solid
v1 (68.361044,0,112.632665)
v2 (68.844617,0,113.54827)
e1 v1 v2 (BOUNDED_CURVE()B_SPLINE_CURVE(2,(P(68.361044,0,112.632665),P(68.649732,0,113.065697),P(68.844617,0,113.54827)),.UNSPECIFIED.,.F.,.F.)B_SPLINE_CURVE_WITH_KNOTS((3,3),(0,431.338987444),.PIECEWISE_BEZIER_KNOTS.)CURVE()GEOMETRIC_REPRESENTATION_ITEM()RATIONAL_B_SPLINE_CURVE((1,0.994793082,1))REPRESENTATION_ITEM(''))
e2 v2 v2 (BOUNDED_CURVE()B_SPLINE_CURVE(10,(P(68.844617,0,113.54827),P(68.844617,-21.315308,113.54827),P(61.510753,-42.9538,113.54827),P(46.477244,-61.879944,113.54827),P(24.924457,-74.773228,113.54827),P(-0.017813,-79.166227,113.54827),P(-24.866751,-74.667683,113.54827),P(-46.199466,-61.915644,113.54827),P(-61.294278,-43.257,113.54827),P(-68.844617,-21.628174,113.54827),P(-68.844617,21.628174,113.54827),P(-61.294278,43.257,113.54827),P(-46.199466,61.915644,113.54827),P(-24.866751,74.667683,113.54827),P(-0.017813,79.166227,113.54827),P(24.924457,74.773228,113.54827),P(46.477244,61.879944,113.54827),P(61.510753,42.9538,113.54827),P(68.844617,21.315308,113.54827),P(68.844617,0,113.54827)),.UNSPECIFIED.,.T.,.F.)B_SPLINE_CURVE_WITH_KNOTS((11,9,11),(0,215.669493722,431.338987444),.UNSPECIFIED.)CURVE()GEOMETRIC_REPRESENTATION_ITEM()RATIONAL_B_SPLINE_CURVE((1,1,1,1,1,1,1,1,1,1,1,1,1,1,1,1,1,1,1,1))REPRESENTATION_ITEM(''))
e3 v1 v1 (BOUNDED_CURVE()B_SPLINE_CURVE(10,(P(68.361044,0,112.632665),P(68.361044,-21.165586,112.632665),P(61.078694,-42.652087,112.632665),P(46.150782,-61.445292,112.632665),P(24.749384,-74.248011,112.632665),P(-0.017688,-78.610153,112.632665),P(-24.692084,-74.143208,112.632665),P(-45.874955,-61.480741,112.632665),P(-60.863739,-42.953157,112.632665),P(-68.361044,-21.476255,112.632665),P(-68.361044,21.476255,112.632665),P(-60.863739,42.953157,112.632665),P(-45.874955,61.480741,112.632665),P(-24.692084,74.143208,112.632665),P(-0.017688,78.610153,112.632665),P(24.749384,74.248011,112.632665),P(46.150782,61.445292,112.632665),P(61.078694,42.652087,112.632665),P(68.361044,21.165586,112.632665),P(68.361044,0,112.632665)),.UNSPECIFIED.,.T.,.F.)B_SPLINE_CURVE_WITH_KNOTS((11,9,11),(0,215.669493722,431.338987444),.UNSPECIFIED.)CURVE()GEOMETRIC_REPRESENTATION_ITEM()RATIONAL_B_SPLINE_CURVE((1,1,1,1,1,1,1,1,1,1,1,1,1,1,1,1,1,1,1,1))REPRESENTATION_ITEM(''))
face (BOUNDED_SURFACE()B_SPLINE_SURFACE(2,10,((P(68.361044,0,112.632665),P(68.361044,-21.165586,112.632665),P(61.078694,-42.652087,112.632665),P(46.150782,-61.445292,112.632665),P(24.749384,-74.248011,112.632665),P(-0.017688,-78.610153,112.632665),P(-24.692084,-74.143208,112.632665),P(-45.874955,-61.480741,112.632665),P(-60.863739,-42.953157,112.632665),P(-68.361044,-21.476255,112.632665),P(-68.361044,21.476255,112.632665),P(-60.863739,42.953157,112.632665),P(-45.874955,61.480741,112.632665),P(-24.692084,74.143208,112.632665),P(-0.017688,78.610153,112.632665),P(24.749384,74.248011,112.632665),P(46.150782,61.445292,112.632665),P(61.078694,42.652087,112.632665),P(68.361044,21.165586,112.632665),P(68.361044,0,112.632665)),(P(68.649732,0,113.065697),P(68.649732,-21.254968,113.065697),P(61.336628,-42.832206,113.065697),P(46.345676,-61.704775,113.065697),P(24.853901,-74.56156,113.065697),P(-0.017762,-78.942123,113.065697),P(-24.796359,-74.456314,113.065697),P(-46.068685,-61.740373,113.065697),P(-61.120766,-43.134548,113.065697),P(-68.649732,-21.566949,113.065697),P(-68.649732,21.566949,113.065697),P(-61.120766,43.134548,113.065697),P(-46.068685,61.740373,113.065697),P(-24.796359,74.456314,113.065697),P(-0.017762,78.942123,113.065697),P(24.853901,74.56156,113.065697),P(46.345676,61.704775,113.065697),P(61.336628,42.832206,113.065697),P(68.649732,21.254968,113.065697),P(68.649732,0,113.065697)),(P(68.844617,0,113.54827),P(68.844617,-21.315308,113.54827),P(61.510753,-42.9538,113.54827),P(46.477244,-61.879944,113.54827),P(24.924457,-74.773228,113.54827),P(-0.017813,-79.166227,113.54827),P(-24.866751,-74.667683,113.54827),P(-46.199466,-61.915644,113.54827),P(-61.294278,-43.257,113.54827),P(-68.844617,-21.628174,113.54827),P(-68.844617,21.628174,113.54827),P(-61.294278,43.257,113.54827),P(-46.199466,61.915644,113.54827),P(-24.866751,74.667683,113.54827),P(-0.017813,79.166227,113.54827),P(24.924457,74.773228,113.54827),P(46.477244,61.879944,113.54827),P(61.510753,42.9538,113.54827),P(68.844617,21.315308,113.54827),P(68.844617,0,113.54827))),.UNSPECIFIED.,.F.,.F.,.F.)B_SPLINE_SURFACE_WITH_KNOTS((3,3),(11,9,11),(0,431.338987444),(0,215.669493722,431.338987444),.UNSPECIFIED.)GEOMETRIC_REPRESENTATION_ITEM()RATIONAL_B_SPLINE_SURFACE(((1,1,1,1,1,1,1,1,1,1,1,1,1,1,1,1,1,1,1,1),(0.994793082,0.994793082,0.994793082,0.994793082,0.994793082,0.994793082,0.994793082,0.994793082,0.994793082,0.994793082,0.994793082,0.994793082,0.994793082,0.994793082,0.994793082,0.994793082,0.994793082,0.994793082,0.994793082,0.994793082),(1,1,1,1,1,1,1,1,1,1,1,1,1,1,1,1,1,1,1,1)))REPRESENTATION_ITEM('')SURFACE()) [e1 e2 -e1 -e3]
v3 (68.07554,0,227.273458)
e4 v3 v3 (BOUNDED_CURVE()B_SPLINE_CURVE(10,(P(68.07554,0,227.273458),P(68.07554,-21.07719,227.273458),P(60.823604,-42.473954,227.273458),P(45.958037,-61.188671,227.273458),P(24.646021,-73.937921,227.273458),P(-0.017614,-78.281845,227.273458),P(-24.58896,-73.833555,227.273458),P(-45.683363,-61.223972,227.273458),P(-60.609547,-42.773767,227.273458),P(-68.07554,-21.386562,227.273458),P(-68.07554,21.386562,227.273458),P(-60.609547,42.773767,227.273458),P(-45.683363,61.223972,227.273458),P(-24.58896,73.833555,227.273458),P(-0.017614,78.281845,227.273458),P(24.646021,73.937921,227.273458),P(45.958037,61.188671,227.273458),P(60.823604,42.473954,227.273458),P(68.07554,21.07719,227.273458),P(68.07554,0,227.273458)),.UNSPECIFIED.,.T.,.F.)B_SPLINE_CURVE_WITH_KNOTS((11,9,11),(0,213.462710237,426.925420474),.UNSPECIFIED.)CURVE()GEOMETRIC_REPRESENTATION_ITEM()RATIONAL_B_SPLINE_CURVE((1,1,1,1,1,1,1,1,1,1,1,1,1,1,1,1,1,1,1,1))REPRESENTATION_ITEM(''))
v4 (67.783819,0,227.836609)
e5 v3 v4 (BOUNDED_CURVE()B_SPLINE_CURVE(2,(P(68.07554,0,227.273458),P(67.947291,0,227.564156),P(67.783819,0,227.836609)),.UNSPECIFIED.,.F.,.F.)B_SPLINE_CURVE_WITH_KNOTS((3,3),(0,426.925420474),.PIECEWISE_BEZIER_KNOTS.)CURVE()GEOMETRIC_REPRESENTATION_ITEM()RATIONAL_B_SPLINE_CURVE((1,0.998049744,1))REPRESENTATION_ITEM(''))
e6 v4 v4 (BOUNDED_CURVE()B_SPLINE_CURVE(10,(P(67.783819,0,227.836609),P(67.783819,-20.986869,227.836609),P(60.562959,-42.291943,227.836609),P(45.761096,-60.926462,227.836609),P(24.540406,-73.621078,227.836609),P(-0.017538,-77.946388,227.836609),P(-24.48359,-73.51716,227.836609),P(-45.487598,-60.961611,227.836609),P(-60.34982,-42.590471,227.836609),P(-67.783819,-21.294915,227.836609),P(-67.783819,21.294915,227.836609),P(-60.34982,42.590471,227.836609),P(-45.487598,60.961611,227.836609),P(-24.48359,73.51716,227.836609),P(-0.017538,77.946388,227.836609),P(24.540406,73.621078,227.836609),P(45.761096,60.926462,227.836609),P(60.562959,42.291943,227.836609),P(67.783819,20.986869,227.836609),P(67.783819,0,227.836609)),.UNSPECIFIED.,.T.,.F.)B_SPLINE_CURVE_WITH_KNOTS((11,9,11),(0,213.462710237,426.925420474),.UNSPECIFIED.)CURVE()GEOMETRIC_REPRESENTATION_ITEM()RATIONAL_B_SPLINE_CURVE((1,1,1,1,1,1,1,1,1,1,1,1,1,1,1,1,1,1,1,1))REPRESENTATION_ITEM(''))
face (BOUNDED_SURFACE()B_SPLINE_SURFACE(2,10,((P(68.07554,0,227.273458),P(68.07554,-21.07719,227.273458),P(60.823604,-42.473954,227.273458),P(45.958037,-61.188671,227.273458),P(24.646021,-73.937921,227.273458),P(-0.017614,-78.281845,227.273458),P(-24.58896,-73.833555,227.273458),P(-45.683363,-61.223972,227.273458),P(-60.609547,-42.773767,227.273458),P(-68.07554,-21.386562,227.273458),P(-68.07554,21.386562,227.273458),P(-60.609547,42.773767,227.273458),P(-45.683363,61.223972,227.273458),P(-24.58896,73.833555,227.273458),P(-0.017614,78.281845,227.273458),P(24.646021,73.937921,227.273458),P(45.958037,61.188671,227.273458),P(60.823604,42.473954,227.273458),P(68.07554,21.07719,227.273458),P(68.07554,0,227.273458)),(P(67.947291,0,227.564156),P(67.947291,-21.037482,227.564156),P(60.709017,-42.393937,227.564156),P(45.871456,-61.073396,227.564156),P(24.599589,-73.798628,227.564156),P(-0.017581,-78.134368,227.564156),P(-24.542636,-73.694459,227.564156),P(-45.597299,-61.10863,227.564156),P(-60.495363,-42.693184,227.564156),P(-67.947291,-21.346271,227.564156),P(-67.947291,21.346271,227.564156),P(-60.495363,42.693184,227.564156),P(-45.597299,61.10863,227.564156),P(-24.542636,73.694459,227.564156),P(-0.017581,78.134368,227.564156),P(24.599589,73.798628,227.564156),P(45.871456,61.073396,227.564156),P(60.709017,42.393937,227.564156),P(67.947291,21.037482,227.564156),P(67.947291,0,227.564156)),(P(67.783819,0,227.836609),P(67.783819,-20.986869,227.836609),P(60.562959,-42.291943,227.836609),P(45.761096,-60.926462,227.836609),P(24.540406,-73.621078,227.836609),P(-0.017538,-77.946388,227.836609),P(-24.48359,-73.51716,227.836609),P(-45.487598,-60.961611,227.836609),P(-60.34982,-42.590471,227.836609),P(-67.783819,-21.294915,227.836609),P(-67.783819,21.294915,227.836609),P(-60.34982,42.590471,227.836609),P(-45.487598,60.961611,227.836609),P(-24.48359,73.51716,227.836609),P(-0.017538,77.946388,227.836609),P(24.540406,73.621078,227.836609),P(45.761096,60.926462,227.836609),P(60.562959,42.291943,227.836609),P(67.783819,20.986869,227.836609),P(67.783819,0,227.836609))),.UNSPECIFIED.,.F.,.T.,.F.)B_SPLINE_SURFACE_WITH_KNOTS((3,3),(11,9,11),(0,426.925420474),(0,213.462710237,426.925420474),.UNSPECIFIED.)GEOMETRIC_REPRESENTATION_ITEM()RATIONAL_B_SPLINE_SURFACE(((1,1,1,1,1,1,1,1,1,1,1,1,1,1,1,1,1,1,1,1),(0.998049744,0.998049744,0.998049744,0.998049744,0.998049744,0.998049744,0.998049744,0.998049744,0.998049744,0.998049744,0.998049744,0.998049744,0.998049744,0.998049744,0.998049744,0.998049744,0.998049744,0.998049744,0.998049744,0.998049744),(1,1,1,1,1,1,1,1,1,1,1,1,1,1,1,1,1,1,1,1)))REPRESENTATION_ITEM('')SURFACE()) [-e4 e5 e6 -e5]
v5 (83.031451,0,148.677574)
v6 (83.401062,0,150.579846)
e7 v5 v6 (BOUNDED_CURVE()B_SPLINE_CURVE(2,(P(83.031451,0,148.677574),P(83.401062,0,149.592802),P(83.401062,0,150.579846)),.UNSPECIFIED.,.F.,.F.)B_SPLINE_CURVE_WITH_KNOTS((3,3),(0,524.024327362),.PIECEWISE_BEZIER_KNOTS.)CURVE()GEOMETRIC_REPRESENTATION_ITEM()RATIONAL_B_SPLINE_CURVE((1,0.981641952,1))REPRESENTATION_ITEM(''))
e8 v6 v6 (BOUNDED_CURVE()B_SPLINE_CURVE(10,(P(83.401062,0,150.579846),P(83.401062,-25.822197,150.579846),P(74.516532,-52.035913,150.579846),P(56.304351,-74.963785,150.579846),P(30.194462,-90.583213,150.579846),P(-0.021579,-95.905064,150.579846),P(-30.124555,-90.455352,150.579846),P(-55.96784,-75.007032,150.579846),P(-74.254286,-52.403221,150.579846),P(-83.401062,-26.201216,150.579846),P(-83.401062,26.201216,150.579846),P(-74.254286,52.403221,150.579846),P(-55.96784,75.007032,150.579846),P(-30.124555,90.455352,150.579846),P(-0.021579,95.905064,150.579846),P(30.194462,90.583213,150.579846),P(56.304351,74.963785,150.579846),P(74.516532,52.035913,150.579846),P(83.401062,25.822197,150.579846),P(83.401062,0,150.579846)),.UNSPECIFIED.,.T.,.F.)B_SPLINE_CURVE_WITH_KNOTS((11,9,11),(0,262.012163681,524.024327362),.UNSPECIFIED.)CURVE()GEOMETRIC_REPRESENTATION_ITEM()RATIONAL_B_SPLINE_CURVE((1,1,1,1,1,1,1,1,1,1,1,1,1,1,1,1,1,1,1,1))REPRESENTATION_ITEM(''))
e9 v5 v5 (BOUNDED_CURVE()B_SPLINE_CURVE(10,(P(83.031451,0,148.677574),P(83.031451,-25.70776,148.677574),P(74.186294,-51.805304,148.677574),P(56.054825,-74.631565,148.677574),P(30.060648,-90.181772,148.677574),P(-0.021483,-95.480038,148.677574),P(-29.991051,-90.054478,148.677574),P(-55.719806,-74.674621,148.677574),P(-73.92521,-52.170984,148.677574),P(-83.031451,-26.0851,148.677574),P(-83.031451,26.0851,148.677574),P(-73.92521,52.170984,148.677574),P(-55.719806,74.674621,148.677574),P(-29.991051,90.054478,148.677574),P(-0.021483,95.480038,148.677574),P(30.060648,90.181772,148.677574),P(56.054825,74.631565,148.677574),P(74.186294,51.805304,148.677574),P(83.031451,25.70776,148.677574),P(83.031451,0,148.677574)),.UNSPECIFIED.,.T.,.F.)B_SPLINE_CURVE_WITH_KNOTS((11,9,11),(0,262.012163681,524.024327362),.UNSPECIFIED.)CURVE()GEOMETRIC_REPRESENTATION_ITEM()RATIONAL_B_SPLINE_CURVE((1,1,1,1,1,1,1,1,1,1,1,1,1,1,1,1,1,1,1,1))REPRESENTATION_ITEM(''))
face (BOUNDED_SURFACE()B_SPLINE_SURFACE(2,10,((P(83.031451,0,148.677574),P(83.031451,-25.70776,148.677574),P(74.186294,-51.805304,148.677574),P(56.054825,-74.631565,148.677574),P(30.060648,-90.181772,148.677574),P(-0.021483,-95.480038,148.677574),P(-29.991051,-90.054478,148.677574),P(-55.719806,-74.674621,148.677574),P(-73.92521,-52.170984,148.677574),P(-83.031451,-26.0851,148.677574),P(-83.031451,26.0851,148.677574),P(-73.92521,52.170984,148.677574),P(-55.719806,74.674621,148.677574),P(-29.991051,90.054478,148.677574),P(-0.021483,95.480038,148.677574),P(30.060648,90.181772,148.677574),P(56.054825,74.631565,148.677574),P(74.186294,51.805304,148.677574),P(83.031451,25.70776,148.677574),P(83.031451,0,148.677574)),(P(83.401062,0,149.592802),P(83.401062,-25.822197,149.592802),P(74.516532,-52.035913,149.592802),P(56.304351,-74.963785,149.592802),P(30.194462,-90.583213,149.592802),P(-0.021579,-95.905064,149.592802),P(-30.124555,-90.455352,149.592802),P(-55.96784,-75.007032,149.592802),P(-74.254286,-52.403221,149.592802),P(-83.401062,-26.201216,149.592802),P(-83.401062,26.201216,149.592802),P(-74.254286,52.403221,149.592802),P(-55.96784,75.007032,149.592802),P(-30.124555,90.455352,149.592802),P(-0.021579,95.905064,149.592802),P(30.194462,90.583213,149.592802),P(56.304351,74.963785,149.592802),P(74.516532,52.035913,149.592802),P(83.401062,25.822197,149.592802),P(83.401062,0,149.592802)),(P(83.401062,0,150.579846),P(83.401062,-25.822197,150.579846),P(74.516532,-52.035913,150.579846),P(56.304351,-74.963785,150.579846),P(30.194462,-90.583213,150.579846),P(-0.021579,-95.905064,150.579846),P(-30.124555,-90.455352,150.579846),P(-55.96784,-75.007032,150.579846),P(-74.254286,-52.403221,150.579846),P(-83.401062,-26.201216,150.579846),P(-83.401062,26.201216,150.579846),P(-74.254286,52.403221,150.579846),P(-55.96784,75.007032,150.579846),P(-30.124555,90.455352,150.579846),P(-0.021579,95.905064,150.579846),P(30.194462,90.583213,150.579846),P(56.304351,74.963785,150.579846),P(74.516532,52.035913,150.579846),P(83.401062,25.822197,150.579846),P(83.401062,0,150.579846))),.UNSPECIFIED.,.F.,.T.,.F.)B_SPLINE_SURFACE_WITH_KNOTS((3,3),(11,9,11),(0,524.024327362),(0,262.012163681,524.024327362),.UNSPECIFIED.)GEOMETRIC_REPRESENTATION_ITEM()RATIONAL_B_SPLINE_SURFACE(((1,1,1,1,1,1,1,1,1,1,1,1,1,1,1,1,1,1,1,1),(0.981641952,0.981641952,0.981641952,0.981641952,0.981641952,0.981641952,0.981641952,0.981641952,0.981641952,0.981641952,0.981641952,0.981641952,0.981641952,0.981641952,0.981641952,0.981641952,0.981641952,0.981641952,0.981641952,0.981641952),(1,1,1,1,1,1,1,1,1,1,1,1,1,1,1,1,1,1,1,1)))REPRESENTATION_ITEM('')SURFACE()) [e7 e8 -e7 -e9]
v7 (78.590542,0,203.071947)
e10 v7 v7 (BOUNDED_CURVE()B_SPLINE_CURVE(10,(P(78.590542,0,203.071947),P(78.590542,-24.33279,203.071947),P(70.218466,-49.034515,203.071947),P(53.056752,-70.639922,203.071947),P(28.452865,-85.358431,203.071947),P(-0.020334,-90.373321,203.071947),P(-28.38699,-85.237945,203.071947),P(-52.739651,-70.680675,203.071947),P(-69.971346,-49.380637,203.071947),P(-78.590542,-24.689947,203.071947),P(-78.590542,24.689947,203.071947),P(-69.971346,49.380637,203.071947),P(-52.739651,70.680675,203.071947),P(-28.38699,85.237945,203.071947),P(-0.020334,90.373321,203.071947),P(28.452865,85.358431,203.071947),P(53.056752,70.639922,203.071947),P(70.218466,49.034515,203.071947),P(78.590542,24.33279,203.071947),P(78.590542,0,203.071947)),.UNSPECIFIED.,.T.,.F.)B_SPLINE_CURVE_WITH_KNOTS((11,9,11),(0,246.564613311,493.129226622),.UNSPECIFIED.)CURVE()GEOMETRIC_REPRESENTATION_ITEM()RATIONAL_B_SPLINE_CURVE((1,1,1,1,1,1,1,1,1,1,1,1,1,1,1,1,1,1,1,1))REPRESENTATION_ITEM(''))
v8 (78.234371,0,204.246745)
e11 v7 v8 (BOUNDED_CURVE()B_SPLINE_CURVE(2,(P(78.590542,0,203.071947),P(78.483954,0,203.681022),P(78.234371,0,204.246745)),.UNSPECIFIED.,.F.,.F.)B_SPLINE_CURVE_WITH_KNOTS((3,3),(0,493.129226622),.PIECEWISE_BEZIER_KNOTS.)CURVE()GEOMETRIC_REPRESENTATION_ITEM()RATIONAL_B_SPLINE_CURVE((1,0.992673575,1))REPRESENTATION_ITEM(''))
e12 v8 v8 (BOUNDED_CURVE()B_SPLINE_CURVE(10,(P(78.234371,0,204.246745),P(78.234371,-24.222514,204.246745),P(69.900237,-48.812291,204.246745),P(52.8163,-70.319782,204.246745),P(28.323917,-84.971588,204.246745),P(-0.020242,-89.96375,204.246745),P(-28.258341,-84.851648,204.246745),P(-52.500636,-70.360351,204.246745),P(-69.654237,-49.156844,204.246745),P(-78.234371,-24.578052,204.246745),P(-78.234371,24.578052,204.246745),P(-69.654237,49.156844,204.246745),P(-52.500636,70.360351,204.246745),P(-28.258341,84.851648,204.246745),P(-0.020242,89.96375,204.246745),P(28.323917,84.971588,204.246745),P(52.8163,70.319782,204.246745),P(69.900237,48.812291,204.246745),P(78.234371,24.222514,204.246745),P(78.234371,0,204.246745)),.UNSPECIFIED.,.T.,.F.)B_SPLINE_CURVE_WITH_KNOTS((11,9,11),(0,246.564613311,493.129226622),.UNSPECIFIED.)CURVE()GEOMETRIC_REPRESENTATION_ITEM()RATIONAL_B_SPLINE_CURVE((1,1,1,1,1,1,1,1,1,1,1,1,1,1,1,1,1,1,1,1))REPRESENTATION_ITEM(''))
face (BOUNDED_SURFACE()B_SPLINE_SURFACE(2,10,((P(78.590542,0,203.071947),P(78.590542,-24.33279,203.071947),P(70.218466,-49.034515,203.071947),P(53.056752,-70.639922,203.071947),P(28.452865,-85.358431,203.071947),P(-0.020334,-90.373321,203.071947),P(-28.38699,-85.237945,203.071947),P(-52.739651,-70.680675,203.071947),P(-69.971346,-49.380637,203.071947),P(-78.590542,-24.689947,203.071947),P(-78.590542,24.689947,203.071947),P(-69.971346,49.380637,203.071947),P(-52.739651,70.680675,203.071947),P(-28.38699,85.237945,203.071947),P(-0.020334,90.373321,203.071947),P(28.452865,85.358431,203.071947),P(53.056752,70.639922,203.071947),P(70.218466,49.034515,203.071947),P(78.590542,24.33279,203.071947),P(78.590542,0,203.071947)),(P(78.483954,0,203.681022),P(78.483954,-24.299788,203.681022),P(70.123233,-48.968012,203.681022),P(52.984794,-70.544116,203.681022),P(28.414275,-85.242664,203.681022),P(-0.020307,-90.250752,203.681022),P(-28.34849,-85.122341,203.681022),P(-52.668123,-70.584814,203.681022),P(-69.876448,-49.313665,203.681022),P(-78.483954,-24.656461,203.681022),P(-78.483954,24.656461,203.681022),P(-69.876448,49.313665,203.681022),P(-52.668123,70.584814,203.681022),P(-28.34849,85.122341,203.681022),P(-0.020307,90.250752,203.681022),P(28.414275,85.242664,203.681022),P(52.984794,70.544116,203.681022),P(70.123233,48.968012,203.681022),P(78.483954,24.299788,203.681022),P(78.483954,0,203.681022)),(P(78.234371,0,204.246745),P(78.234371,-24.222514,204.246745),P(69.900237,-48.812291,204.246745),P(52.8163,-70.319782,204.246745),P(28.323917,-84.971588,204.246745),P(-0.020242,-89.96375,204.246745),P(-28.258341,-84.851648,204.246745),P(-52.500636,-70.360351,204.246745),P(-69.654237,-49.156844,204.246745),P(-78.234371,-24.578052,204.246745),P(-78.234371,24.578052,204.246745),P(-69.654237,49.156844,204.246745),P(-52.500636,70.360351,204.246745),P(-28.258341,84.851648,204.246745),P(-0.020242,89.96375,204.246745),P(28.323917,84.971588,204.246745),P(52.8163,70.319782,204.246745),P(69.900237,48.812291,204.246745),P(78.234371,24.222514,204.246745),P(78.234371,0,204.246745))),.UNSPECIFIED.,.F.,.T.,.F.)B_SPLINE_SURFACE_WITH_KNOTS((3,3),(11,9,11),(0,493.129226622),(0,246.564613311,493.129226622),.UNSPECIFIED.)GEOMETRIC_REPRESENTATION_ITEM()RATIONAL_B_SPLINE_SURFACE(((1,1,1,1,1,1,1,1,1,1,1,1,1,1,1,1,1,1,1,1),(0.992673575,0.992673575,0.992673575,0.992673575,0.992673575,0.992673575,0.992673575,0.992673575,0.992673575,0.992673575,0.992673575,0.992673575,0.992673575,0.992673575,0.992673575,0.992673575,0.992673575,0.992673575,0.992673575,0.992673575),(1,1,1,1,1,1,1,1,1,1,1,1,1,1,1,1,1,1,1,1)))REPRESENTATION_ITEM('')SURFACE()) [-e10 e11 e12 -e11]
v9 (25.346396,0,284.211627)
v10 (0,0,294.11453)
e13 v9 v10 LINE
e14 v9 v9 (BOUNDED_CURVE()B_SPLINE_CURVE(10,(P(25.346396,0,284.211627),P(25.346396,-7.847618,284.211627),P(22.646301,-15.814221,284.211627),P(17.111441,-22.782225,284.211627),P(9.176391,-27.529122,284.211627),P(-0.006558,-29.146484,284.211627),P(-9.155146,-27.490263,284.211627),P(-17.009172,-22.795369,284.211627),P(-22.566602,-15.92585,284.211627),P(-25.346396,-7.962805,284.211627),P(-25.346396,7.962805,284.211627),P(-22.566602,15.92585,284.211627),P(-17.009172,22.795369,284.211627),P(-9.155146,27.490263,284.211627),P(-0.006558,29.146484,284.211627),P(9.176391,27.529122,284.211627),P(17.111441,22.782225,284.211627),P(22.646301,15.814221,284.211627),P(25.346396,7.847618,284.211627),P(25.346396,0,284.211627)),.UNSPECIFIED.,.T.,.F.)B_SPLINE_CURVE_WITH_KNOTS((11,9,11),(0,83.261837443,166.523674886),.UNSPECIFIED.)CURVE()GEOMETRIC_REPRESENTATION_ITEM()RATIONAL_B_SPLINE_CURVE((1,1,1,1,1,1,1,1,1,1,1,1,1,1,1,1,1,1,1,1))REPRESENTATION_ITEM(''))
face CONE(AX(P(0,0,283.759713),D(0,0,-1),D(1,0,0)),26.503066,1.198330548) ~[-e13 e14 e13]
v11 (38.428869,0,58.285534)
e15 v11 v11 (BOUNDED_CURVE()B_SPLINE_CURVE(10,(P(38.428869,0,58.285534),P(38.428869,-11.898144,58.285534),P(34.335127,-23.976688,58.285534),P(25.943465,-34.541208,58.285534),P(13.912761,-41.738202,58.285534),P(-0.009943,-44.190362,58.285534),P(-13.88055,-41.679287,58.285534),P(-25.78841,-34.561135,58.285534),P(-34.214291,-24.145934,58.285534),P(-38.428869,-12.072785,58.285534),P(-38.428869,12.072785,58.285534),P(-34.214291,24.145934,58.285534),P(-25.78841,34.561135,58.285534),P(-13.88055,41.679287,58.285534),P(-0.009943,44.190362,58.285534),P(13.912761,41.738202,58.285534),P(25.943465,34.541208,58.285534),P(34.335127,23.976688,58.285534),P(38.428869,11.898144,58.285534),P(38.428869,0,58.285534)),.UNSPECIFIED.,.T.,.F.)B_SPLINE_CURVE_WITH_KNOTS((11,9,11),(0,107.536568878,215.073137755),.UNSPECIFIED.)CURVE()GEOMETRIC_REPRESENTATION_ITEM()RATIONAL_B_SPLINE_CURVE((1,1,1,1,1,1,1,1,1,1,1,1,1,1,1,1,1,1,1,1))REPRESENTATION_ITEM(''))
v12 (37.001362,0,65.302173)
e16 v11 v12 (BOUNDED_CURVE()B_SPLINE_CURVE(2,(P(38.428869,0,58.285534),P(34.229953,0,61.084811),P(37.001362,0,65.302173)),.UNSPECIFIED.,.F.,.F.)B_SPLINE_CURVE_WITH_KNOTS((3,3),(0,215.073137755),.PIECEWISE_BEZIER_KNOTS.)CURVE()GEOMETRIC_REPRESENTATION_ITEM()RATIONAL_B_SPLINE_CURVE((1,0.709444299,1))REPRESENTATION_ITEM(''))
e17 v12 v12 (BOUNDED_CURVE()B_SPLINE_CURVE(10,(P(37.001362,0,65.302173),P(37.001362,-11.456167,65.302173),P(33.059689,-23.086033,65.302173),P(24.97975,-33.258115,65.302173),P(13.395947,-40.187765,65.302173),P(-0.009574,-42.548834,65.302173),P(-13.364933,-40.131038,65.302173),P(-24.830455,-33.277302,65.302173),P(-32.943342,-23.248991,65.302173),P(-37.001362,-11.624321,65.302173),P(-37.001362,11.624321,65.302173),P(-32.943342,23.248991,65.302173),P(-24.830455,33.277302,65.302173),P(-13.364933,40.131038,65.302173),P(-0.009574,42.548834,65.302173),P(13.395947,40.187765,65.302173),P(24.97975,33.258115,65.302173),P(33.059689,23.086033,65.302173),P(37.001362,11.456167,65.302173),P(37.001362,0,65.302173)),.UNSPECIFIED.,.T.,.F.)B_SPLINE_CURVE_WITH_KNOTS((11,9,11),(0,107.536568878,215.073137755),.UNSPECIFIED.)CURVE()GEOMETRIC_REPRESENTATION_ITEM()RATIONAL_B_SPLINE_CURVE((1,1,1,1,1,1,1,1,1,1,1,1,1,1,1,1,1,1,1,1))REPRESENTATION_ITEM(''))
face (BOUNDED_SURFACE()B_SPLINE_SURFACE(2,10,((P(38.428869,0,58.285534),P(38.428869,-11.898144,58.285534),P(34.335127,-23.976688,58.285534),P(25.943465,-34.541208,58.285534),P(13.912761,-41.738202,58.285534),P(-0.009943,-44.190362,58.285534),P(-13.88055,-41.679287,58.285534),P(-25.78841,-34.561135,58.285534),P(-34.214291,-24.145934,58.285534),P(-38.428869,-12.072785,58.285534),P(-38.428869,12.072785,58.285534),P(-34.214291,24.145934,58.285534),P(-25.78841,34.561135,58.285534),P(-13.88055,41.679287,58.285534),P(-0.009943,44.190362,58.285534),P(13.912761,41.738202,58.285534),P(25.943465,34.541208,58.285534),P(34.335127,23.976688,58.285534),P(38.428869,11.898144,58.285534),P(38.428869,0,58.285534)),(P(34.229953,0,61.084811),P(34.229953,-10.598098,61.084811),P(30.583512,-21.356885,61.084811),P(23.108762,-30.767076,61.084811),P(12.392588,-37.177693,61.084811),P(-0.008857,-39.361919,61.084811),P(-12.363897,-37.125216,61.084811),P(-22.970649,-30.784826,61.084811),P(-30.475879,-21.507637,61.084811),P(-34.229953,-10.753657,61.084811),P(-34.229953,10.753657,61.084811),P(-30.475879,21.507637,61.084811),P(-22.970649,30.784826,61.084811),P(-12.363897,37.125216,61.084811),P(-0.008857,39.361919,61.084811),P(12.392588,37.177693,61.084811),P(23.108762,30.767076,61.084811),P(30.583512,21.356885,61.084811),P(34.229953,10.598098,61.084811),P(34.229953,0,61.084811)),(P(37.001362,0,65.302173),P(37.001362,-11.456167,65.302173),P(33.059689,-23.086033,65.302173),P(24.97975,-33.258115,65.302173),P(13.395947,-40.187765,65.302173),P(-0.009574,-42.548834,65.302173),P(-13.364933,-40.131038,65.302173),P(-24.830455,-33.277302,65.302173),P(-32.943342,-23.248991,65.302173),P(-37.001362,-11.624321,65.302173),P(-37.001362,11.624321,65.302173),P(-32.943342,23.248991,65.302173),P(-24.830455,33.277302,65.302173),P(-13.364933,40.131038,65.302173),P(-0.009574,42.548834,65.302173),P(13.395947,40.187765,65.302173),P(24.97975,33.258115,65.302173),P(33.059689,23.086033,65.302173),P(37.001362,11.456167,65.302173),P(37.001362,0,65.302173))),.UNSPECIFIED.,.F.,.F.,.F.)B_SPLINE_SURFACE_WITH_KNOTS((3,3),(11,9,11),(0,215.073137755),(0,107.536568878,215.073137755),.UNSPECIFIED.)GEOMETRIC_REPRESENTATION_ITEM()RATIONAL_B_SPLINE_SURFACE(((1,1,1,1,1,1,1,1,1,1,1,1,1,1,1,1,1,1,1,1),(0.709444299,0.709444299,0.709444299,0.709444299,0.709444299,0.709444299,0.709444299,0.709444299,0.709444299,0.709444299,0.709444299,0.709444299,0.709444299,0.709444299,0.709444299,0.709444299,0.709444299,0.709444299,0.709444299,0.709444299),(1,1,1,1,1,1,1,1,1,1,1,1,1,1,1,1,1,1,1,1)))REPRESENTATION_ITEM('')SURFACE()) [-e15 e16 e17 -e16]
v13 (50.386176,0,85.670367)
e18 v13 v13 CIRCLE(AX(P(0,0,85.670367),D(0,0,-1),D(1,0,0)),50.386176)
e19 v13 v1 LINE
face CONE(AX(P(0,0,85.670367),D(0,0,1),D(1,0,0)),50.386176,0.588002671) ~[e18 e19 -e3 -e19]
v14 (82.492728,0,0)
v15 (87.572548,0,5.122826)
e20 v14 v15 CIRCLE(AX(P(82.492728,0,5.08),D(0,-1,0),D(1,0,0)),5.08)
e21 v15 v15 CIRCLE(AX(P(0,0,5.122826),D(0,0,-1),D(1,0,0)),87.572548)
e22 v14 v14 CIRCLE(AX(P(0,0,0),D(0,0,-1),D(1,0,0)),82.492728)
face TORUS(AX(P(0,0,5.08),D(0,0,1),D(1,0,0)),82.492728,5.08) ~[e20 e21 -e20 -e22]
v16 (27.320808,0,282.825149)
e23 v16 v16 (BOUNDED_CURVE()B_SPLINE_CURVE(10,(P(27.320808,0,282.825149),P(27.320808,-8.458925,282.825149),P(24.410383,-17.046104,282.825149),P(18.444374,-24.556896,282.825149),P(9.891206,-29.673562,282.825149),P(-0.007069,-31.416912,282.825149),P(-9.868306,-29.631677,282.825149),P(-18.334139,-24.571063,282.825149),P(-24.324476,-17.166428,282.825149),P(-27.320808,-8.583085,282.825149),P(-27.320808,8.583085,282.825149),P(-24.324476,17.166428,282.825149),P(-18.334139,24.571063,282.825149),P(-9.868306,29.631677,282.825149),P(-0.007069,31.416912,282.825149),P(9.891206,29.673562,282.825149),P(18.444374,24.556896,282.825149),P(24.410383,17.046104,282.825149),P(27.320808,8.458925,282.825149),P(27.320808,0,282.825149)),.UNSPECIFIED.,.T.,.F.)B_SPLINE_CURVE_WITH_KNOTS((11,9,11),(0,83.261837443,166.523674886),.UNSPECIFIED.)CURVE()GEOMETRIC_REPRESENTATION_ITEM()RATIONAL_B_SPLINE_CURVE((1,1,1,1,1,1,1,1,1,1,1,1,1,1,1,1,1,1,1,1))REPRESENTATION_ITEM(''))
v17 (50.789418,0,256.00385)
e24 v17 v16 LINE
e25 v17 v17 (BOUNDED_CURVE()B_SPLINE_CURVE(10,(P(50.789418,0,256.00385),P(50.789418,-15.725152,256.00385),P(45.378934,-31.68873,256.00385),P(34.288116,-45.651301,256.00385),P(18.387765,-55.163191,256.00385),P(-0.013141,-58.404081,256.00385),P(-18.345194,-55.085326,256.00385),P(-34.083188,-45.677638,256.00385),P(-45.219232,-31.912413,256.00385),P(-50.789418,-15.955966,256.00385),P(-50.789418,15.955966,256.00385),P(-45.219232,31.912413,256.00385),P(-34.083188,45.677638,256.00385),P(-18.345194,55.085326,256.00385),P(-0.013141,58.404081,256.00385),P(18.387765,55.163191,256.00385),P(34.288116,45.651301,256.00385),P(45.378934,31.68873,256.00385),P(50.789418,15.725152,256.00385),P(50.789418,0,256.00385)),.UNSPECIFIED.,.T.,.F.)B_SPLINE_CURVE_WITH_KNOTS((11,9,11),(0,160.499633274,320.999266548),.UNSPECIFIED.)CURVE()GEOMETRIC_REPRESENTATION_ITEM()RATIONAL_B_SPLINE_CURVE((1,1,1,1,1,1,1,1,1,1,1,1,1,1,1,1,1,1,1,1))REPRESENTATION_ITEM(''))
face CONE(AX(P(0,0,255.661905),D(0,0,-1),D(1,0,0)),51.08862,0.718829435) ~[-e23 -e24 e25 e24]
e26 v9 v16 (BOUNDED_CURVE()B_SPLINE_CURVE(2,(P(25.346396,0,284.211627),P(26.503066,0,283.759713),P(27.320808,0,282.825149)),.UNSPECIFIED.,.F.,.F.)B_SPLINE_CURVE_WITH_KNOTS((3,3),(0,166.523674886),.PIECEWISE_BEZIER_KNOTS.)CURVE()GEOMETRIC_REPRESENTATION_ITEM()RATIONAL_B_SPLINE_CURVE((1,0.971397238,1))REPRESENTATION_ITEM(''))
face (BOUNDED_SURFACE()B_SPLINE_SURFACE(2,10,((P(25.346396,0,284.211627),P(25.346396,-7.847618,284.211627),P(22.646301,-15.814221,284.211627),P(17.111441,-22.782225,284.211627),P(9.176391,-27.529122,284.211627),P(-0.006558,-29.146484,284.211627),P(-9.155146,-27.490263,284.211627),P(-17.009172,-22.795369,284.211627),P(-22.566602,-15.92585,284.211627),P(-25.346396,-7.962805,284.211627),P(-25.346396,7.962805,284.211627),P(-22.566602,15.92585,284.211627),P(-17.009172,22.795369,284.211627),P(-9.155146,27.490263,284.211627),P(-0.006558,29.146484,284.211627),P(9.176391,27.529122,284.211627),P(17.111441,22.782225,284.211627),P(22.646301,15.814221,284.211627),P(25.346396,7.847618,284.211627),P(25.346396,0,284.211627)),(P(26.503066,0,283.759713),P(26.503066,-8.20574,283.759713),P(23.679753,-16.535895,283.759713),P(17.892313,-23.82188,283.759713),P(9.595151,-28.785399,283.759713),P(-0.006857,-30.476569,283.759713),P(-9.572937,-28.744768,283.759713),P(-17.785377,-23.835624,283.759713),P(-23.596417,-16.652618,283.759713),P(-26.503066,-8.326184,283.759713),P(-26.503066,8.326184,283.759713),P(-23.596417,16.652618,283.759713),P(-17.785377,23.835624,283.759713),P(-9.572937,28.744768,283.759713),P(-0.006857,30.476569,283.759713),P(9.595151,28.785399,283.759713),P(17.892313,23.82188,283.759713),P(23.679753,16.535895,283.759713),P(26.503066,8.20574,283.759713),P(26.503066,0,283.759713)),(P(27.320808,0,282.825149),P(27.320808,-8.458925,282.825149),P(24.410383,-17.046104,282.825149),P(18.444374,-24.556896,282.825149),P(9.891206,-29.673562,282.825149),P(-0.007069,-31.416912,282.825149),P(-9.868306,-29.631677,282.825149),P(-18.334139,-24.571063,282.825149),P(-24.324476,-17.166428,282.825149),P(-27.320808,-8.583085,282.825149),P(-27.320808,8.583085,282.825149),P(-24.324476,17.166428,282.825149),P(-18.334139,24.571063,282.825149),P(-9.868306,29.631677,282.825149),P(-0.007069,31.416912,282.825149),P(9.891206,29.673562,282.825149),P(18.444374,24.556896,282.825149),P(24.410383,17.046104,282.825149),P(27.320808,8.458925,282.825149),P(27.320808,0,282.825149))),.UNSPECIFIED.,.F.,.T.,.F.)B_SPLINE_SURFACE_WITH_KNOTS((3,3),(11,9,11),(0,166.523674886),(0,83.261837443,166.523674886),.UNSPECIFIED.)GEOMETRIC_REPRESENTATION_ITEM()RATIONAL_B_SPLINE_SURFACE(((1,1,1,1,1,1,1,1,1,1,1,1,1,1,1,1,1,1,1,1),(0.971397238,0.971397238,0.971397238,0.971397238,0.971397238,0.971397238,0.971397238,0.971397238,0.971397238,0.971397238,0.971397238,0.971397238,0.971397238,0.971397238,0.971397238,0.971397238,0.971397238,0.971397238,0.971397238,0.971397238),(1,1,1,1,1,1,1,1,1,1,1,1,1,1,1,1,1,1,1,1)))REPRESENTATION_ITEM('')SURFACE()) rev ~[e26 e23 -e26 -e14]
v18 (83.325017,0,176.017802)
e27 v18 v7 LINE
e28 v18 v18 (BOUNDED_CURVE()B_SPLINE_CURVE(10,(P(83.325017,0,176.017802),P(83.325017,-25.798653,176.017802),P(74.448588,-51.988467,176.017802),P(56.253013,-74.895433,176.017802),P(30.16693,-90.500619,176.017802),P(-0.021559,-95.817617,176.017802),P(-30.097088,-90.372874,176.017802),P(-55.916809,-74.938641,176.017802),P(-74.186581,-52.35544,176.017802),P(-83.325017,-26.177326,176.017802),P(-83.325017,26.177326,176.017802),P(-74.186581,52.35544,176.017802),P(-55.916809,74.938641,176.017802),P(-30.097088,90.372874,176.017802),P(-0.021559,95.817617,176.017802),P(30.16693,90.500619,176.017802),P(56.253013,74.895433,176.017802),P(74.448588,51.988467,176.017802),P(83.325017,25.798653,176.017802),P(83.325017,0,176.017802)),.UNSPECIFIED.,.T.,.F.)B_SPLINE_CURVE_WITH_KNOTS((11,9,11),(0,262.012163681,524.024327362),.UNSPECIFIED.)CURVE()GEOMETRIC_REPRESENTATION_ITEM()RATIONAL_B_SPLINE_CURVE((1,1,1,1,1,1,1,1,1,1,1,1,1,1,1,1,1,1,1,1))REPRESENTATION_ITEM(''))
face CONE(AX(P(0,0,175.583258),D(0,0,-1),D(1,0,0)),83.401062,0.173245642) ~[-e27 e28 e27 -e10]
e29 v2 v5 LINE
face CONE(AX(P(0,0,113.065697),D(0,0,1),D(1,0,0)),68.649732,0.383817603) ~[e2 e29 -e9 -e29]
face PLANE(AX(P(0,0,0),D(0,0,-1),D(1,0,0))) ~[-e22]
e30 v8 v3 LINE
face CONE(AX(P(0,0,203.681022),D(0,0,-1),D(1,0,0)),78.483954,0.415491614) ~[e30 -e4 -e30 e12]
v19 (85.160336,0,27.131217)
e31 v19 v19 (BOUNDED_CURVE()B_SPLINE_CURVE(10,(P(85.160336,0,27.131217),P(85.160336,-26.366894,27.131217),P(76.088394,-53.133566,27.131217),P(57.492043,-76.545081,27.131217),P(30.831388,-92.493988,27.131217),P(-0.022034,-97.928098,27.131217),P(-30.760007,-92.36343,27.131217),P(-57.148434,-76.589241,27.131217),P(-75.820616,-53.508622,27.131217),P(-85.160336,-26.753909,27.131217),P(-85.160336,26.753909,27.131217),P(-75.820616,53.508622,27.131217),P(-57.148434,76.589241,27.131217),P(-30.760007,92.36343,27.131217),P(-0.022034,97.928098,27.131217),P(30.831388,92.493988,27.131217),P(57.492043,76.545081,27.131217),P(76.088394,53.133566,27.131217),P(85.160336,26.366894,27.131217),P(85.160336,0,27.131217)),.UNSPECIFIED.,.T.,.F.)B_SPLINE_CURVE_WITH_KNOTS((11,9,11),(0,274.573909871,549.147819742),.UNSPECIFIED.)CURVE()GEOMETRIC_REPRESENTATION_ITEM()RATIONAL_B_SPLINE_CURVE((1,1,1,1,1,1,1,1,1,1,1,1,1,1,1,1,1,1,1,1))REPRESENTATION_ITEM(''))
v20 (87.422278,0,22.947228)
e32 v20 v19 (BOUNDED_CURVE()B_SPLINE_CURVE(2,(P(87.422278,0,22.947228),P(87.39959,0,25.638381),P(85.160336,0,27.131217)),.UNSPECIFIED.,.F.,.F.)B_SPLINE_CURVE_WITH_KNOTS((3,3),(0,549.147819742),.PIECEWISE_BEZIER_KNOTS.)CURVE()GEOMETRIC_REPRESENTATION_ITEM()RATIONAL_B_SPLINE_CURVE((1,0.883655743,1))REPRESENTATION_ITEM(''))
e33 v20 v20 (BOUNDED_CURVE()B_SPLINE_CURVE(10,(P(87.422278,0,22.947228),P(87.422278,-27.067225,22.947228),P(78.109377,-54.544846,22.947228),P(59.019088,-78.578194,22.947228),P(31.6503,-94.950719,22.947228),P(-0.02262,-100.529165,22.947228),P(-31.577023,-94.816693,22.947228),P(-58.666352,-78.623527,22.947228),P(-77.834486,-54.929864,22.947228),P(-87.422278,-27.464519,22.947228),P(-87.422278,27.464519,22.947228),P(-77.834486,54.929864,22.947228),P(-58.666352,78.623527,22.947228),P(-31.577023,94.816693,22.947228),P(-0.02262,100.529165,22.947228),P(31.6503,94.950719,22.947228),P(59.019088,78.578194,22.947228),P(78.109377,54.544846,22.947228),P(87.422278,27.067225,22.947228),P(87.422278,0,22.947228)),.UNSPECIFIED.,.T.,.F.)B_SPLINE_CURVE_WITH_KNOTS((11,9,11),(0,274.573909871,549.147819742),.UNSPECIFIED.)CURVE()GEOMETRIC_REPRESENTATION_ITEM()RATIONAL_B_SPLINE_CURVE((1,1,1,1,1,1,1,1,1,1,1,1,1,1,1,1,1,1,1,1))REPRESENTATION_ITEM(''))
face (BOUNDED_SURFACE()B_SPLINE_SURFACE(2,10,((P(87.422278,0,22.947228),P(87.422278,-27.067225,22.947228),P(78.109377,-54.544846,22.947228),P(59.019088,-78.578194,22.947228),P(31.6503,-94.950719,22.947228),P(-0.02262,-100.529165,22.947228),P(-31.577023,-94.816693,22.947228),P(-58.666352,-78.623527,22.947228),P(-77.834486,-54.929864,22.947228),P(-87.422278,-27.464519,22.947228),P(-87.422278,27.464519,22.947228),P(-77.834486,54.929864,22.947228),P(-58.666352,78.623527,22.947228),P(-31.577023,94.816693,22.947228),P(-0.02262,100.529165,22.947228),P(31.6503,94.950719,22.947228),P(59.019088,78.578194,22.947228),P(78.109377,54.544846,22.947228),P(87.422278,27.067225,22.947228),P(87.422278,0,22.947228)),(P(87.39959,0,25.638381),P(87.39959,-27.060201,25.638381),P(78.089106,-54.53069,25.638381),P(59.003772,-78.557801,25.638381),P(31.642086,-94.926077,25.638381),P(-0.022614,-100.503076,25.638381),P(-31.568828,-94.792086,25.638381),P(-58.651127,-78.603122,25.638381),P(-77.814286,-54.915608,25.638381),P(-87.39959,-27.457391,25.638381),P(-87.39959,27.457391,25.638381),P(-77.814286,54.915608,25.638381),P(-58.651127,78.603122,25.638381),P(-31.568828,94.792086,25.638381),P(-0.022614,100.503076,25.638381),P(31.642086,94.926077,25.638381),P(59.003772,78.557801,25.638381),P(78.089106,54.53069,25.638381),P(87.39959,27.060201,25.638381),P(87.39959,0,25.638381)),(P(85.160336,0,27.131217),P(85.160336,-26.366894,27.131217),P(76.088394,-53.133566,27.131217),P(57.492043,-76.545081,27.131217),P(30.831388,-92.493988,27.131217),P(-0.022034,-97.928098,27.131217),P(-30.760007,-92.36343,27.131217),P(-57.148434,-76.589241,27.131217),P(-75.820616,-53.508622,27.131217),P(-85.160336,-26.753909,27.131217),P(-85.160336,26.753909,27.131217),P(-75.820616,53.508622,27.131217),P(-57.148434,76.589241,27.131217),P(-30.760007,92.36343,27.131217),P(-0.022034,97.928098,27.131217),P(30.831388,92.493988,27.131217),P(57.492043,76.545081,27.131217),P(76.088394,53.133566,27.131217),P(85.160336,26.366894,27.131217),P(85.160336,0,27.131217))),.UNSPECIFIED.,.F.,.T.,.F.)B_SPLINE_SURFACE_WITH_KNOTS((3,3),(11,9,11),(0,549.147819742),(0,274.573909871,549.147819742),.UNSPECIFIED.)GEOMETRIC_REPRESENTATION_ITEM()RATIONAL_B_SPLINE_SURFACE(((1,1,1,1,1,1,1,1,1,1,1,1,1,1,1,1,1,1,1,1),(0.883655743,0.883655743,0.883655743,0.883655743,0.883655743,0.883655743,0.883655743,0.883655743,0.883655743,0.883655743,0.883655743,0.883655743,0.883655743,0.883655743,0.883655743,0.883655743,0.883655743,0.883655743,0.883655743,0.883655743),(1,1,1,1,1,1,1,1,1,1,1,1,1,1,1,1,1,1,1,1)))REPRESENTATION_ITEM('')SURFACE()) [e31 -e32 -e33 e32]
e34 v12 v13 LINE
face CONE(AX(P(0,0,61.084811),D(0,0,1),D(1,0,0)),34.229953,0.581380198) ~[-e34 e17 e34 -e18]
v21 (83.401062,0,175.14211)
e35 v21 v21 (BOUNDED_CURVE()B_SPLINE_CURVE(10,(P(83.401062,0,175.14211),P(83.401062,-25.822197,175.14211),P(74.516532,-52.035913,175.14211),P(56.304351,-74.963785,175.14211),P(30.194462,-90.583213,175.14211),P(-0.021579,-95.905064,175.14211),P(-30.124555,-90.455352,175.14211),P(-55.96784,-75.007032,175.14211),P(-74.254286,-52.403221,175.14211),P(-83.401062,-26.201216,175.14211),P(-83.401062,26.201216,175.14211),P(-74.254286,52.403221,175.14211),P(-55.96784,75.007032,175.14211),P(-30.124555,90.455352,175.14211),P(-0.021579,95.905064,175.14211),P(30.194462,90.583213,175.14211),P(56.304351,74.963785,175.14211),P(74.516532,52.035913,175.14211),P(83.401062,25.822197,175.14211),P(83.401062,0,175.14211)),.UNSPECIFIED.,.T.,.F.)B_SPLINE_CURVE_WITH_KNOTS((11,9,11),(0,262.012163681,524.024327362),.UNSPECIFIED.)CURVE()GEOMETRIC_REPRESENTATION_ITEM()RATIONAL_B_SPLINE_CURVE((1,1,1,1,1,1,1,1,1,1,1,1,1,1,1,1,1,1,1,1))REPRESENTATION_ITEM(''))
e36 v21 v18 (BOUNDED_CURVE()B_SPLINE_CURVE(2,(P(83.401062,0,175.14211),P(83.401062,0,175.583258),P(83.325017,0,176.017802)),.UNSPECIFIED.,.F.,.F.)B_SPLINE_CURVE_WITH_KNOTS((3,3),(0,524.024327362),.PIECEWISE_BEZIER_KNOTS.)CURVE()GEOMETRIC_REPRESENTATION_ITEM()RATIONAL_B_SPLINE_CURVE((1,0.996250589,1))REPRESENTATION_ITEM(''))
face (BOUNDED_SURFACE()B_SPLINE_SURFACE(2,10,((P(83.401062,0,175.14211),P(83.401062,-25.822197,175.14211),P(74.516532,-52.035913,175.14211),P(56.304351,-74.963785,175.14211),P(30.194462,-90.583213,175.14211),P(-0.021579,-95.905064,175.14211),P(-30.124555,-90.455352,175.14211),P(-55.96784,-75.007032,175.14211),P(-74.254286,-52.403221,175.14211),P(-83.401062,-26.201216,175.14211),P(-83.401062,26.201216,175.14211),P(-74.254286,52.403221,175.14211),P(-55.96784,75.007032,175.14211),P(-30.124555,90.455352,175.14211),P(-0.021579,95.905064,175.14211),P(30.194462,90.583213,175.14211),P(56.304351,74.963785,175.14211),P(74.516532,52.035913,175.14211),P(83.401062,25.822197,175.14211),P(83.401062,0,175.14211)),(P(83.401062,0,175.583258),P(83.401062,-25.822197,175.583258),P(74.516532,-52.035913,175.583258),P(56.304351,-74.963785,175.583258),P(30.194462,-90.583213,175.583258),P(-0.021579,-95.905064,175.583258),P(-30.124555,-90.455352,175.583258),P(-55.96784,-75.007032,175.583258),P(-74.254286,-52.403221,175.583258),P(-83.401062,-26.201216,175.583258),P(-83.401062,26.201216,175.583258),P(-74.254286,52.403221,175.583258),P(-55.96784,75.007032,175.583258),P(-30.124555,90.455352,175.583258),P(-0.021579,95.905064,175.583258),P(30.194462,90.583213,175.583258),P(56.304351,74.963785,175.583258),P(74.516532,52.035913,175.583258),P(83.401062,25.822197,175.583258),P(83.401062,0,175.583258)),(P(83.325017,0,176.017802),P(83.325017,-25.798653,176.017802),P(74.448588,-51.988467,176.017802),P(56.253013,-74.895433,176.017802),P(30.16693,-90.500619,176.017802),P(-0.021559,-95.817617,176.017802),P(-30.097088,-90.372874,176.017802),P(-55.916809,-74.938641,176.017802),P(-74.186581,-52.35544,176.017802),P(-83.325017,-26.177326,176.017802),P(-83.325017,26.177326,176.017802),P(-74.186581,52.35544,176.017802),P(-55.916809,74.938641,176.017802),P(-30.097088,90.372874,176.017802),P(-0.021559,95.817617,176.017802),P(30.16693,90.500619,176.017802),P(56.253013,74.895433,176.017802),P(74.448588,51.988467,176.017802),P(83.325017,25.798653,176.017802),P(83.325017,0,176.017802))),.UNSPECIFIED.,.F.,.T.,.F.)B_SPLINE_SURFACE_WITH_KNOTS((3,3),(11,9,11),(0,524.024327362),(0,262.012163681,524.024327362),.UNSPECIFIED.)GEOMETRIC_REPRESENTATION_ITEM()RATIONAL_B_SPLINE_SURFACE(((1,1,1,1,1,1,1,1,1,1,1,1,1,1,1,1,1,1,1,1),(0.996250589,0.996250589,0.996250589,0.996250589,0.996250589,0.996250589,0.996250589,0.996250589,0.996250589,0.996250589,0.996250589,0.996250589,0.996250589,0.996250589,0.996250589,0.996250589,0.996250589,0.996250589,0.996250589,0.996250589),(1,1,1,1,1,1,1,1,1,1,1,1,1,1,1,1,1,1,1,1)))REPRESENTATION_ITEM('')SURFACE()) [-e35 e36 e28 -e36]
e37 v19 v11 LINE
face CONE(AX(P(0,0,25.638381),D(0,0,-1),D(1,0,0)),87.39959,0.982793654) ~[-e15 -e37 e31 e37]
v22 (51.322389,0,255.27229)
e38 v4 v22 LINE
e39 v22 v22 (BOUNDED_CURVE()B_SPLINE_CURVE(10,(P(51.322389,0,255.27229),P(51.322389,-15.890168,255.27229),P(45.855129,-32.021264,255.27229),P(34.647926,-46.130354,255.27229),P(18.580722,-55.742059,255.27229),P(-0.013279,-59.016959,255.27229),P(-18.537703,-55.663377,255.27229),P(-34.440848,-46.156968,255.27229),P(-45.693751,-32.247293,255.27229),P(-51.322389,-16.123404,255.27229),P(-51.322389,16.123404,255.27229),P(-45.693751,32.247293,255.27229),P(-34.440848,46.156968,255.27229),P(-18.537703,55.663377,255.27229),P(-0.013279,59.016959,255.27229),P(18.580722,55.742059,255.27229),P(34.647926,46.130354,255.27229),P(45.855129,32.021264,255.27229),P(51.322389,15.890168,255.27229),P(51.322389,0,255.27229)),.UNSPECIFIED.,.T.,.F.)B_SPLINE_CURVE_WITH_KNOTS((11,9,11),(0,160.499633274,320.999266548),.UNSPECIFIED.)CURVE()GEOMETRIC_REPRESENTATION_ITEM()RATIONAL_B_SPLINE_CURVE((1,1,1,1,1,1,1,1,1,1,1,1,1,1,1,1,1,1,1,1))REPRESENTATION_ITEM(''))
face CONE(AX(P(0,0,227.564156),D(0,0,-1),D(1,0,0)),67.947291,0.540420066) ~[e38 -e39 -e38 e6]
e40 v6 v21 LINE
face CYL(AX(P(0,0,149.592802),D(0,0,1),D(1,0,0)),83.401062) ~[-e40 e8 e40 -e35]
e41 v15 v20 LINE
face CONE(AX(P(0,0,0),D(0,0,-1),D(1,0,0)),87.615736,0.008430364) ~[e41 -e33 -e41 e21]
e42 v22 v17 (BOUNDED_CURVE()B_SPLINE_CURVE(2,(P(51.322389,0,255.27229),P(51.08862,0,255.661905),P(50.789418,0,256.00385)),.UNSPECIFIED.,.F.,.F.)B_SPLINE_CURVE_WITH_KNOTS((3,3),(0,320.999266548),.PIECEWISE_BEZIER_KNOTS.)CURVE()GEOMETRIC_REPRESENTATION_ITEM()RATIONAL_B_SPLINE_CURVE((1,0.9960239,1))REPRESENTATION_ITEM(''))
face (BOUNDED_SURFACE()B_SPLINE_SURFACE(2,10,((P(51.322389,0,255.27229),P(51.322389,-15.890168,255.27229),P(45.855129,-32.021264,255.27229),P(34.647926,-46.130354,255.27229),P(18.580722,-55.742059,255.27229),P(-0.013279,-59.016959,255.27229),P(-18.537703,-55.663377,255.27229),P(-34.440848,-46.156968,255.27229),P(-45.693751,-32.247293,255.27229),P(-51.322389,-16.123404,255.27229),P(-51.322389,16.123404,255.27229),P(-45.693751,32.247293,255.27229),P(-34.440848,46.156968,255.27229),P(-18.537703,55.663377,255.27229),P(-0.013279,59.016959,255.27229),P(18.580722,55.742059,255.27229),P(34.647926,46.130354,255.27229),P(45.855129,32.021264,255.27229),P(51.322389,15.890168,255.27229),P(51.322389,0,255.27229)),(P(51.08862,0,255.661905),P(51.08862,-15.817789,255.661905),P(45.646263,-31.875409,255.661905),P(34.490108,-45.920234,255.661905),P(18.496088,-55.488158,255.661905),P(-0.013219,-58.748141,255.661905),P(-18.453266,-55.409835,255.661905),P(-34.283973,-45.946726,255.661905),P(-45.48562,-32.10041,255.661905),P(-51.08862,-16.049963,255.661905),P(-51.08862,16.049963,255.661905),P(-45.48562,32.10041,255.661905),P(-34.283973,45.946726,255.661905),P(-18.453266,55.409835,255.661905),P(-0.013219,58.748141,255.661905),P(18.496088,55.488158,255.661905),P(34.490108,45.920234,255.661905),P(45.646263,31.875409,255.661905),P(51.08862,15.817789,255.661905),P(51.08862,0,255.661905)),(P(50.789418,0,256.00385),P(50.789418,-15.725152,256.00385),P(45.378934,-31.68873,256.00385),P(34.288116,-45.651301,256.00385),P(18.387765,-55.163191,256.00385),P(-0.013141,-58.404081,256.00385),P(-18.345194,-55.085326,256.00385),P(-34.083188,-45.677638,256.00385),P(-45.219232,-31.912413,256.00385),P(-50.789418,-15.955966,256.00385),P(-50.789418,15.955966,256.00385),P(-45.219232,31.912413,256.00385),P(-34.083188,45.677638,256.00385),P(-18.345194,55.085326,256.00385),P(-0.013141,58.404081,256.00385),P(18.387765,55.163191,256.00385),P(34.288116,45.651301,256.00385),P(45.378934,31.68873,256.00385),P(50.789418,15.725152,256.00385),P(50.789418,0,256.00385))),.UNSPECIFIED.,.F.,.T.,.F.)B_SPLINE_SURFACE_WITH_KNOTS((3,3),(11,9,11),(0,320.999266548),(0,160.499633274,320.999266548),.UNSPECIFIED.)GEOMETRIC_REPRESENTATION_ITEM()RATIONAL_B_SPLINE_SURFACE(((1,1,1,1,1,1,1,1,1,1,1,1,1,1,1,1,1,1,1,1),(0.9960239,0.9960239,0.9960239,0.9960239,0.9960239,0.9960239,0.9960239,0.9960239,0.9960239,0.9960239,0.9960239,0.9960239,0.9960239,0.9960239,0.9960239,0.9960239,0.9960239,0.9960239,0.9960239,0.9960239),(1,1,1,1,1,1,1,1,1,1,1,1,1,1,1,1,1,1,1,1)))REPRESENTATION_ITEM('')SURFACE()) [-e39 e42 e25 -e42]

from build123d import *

# Parameters (mm, degrees)
F2_R = 5.08


with BuildPart() as f1:
    # F0 (on Front) → F1 (revolve)
    with BuildSketch(Plane.XZ):
        Polygon((26.503066, 283.759713), (0, 294.11453), (0, 0), (87.615736, 0), (87.39959, 25.638381), (34.229953, 61.084811), (50.386176, 85.670367), (68.649732, 113.065697), (83.401062, 149.592802), (83.401062, 175.583258), (78.483954, 203.681022), (67.947291, 227.564156), (51.08862, 255.661905), align=None)
    revolve(axis=Axis((0, 0, 147.057265), (0, 0, -1)))

    # F2
    f2_edges = [f1.edges().sort_by_distance(p)[0] for p in [
        (-51.08862, 0, 255.661905),
        (-67.947291, 0, 227.564156),
        (-83.401062, 0, 175.583258),
        (-78.483954, 0, 203.681022),
        (-83.401062, 0, 149.592802),
        (-26.503066, 0, 283.759713),
        (-68.649732, 0, 113.065697),
        (-50.386176, 0, 85.670367),
        (-34.229953, 0, 61.084811),
        (-87.39959, 0, 25.638381),
        (-87.615736, 0, 0),
    ]]
    fillet(f2_edges, radius=F2_R)


solid = f1.part
